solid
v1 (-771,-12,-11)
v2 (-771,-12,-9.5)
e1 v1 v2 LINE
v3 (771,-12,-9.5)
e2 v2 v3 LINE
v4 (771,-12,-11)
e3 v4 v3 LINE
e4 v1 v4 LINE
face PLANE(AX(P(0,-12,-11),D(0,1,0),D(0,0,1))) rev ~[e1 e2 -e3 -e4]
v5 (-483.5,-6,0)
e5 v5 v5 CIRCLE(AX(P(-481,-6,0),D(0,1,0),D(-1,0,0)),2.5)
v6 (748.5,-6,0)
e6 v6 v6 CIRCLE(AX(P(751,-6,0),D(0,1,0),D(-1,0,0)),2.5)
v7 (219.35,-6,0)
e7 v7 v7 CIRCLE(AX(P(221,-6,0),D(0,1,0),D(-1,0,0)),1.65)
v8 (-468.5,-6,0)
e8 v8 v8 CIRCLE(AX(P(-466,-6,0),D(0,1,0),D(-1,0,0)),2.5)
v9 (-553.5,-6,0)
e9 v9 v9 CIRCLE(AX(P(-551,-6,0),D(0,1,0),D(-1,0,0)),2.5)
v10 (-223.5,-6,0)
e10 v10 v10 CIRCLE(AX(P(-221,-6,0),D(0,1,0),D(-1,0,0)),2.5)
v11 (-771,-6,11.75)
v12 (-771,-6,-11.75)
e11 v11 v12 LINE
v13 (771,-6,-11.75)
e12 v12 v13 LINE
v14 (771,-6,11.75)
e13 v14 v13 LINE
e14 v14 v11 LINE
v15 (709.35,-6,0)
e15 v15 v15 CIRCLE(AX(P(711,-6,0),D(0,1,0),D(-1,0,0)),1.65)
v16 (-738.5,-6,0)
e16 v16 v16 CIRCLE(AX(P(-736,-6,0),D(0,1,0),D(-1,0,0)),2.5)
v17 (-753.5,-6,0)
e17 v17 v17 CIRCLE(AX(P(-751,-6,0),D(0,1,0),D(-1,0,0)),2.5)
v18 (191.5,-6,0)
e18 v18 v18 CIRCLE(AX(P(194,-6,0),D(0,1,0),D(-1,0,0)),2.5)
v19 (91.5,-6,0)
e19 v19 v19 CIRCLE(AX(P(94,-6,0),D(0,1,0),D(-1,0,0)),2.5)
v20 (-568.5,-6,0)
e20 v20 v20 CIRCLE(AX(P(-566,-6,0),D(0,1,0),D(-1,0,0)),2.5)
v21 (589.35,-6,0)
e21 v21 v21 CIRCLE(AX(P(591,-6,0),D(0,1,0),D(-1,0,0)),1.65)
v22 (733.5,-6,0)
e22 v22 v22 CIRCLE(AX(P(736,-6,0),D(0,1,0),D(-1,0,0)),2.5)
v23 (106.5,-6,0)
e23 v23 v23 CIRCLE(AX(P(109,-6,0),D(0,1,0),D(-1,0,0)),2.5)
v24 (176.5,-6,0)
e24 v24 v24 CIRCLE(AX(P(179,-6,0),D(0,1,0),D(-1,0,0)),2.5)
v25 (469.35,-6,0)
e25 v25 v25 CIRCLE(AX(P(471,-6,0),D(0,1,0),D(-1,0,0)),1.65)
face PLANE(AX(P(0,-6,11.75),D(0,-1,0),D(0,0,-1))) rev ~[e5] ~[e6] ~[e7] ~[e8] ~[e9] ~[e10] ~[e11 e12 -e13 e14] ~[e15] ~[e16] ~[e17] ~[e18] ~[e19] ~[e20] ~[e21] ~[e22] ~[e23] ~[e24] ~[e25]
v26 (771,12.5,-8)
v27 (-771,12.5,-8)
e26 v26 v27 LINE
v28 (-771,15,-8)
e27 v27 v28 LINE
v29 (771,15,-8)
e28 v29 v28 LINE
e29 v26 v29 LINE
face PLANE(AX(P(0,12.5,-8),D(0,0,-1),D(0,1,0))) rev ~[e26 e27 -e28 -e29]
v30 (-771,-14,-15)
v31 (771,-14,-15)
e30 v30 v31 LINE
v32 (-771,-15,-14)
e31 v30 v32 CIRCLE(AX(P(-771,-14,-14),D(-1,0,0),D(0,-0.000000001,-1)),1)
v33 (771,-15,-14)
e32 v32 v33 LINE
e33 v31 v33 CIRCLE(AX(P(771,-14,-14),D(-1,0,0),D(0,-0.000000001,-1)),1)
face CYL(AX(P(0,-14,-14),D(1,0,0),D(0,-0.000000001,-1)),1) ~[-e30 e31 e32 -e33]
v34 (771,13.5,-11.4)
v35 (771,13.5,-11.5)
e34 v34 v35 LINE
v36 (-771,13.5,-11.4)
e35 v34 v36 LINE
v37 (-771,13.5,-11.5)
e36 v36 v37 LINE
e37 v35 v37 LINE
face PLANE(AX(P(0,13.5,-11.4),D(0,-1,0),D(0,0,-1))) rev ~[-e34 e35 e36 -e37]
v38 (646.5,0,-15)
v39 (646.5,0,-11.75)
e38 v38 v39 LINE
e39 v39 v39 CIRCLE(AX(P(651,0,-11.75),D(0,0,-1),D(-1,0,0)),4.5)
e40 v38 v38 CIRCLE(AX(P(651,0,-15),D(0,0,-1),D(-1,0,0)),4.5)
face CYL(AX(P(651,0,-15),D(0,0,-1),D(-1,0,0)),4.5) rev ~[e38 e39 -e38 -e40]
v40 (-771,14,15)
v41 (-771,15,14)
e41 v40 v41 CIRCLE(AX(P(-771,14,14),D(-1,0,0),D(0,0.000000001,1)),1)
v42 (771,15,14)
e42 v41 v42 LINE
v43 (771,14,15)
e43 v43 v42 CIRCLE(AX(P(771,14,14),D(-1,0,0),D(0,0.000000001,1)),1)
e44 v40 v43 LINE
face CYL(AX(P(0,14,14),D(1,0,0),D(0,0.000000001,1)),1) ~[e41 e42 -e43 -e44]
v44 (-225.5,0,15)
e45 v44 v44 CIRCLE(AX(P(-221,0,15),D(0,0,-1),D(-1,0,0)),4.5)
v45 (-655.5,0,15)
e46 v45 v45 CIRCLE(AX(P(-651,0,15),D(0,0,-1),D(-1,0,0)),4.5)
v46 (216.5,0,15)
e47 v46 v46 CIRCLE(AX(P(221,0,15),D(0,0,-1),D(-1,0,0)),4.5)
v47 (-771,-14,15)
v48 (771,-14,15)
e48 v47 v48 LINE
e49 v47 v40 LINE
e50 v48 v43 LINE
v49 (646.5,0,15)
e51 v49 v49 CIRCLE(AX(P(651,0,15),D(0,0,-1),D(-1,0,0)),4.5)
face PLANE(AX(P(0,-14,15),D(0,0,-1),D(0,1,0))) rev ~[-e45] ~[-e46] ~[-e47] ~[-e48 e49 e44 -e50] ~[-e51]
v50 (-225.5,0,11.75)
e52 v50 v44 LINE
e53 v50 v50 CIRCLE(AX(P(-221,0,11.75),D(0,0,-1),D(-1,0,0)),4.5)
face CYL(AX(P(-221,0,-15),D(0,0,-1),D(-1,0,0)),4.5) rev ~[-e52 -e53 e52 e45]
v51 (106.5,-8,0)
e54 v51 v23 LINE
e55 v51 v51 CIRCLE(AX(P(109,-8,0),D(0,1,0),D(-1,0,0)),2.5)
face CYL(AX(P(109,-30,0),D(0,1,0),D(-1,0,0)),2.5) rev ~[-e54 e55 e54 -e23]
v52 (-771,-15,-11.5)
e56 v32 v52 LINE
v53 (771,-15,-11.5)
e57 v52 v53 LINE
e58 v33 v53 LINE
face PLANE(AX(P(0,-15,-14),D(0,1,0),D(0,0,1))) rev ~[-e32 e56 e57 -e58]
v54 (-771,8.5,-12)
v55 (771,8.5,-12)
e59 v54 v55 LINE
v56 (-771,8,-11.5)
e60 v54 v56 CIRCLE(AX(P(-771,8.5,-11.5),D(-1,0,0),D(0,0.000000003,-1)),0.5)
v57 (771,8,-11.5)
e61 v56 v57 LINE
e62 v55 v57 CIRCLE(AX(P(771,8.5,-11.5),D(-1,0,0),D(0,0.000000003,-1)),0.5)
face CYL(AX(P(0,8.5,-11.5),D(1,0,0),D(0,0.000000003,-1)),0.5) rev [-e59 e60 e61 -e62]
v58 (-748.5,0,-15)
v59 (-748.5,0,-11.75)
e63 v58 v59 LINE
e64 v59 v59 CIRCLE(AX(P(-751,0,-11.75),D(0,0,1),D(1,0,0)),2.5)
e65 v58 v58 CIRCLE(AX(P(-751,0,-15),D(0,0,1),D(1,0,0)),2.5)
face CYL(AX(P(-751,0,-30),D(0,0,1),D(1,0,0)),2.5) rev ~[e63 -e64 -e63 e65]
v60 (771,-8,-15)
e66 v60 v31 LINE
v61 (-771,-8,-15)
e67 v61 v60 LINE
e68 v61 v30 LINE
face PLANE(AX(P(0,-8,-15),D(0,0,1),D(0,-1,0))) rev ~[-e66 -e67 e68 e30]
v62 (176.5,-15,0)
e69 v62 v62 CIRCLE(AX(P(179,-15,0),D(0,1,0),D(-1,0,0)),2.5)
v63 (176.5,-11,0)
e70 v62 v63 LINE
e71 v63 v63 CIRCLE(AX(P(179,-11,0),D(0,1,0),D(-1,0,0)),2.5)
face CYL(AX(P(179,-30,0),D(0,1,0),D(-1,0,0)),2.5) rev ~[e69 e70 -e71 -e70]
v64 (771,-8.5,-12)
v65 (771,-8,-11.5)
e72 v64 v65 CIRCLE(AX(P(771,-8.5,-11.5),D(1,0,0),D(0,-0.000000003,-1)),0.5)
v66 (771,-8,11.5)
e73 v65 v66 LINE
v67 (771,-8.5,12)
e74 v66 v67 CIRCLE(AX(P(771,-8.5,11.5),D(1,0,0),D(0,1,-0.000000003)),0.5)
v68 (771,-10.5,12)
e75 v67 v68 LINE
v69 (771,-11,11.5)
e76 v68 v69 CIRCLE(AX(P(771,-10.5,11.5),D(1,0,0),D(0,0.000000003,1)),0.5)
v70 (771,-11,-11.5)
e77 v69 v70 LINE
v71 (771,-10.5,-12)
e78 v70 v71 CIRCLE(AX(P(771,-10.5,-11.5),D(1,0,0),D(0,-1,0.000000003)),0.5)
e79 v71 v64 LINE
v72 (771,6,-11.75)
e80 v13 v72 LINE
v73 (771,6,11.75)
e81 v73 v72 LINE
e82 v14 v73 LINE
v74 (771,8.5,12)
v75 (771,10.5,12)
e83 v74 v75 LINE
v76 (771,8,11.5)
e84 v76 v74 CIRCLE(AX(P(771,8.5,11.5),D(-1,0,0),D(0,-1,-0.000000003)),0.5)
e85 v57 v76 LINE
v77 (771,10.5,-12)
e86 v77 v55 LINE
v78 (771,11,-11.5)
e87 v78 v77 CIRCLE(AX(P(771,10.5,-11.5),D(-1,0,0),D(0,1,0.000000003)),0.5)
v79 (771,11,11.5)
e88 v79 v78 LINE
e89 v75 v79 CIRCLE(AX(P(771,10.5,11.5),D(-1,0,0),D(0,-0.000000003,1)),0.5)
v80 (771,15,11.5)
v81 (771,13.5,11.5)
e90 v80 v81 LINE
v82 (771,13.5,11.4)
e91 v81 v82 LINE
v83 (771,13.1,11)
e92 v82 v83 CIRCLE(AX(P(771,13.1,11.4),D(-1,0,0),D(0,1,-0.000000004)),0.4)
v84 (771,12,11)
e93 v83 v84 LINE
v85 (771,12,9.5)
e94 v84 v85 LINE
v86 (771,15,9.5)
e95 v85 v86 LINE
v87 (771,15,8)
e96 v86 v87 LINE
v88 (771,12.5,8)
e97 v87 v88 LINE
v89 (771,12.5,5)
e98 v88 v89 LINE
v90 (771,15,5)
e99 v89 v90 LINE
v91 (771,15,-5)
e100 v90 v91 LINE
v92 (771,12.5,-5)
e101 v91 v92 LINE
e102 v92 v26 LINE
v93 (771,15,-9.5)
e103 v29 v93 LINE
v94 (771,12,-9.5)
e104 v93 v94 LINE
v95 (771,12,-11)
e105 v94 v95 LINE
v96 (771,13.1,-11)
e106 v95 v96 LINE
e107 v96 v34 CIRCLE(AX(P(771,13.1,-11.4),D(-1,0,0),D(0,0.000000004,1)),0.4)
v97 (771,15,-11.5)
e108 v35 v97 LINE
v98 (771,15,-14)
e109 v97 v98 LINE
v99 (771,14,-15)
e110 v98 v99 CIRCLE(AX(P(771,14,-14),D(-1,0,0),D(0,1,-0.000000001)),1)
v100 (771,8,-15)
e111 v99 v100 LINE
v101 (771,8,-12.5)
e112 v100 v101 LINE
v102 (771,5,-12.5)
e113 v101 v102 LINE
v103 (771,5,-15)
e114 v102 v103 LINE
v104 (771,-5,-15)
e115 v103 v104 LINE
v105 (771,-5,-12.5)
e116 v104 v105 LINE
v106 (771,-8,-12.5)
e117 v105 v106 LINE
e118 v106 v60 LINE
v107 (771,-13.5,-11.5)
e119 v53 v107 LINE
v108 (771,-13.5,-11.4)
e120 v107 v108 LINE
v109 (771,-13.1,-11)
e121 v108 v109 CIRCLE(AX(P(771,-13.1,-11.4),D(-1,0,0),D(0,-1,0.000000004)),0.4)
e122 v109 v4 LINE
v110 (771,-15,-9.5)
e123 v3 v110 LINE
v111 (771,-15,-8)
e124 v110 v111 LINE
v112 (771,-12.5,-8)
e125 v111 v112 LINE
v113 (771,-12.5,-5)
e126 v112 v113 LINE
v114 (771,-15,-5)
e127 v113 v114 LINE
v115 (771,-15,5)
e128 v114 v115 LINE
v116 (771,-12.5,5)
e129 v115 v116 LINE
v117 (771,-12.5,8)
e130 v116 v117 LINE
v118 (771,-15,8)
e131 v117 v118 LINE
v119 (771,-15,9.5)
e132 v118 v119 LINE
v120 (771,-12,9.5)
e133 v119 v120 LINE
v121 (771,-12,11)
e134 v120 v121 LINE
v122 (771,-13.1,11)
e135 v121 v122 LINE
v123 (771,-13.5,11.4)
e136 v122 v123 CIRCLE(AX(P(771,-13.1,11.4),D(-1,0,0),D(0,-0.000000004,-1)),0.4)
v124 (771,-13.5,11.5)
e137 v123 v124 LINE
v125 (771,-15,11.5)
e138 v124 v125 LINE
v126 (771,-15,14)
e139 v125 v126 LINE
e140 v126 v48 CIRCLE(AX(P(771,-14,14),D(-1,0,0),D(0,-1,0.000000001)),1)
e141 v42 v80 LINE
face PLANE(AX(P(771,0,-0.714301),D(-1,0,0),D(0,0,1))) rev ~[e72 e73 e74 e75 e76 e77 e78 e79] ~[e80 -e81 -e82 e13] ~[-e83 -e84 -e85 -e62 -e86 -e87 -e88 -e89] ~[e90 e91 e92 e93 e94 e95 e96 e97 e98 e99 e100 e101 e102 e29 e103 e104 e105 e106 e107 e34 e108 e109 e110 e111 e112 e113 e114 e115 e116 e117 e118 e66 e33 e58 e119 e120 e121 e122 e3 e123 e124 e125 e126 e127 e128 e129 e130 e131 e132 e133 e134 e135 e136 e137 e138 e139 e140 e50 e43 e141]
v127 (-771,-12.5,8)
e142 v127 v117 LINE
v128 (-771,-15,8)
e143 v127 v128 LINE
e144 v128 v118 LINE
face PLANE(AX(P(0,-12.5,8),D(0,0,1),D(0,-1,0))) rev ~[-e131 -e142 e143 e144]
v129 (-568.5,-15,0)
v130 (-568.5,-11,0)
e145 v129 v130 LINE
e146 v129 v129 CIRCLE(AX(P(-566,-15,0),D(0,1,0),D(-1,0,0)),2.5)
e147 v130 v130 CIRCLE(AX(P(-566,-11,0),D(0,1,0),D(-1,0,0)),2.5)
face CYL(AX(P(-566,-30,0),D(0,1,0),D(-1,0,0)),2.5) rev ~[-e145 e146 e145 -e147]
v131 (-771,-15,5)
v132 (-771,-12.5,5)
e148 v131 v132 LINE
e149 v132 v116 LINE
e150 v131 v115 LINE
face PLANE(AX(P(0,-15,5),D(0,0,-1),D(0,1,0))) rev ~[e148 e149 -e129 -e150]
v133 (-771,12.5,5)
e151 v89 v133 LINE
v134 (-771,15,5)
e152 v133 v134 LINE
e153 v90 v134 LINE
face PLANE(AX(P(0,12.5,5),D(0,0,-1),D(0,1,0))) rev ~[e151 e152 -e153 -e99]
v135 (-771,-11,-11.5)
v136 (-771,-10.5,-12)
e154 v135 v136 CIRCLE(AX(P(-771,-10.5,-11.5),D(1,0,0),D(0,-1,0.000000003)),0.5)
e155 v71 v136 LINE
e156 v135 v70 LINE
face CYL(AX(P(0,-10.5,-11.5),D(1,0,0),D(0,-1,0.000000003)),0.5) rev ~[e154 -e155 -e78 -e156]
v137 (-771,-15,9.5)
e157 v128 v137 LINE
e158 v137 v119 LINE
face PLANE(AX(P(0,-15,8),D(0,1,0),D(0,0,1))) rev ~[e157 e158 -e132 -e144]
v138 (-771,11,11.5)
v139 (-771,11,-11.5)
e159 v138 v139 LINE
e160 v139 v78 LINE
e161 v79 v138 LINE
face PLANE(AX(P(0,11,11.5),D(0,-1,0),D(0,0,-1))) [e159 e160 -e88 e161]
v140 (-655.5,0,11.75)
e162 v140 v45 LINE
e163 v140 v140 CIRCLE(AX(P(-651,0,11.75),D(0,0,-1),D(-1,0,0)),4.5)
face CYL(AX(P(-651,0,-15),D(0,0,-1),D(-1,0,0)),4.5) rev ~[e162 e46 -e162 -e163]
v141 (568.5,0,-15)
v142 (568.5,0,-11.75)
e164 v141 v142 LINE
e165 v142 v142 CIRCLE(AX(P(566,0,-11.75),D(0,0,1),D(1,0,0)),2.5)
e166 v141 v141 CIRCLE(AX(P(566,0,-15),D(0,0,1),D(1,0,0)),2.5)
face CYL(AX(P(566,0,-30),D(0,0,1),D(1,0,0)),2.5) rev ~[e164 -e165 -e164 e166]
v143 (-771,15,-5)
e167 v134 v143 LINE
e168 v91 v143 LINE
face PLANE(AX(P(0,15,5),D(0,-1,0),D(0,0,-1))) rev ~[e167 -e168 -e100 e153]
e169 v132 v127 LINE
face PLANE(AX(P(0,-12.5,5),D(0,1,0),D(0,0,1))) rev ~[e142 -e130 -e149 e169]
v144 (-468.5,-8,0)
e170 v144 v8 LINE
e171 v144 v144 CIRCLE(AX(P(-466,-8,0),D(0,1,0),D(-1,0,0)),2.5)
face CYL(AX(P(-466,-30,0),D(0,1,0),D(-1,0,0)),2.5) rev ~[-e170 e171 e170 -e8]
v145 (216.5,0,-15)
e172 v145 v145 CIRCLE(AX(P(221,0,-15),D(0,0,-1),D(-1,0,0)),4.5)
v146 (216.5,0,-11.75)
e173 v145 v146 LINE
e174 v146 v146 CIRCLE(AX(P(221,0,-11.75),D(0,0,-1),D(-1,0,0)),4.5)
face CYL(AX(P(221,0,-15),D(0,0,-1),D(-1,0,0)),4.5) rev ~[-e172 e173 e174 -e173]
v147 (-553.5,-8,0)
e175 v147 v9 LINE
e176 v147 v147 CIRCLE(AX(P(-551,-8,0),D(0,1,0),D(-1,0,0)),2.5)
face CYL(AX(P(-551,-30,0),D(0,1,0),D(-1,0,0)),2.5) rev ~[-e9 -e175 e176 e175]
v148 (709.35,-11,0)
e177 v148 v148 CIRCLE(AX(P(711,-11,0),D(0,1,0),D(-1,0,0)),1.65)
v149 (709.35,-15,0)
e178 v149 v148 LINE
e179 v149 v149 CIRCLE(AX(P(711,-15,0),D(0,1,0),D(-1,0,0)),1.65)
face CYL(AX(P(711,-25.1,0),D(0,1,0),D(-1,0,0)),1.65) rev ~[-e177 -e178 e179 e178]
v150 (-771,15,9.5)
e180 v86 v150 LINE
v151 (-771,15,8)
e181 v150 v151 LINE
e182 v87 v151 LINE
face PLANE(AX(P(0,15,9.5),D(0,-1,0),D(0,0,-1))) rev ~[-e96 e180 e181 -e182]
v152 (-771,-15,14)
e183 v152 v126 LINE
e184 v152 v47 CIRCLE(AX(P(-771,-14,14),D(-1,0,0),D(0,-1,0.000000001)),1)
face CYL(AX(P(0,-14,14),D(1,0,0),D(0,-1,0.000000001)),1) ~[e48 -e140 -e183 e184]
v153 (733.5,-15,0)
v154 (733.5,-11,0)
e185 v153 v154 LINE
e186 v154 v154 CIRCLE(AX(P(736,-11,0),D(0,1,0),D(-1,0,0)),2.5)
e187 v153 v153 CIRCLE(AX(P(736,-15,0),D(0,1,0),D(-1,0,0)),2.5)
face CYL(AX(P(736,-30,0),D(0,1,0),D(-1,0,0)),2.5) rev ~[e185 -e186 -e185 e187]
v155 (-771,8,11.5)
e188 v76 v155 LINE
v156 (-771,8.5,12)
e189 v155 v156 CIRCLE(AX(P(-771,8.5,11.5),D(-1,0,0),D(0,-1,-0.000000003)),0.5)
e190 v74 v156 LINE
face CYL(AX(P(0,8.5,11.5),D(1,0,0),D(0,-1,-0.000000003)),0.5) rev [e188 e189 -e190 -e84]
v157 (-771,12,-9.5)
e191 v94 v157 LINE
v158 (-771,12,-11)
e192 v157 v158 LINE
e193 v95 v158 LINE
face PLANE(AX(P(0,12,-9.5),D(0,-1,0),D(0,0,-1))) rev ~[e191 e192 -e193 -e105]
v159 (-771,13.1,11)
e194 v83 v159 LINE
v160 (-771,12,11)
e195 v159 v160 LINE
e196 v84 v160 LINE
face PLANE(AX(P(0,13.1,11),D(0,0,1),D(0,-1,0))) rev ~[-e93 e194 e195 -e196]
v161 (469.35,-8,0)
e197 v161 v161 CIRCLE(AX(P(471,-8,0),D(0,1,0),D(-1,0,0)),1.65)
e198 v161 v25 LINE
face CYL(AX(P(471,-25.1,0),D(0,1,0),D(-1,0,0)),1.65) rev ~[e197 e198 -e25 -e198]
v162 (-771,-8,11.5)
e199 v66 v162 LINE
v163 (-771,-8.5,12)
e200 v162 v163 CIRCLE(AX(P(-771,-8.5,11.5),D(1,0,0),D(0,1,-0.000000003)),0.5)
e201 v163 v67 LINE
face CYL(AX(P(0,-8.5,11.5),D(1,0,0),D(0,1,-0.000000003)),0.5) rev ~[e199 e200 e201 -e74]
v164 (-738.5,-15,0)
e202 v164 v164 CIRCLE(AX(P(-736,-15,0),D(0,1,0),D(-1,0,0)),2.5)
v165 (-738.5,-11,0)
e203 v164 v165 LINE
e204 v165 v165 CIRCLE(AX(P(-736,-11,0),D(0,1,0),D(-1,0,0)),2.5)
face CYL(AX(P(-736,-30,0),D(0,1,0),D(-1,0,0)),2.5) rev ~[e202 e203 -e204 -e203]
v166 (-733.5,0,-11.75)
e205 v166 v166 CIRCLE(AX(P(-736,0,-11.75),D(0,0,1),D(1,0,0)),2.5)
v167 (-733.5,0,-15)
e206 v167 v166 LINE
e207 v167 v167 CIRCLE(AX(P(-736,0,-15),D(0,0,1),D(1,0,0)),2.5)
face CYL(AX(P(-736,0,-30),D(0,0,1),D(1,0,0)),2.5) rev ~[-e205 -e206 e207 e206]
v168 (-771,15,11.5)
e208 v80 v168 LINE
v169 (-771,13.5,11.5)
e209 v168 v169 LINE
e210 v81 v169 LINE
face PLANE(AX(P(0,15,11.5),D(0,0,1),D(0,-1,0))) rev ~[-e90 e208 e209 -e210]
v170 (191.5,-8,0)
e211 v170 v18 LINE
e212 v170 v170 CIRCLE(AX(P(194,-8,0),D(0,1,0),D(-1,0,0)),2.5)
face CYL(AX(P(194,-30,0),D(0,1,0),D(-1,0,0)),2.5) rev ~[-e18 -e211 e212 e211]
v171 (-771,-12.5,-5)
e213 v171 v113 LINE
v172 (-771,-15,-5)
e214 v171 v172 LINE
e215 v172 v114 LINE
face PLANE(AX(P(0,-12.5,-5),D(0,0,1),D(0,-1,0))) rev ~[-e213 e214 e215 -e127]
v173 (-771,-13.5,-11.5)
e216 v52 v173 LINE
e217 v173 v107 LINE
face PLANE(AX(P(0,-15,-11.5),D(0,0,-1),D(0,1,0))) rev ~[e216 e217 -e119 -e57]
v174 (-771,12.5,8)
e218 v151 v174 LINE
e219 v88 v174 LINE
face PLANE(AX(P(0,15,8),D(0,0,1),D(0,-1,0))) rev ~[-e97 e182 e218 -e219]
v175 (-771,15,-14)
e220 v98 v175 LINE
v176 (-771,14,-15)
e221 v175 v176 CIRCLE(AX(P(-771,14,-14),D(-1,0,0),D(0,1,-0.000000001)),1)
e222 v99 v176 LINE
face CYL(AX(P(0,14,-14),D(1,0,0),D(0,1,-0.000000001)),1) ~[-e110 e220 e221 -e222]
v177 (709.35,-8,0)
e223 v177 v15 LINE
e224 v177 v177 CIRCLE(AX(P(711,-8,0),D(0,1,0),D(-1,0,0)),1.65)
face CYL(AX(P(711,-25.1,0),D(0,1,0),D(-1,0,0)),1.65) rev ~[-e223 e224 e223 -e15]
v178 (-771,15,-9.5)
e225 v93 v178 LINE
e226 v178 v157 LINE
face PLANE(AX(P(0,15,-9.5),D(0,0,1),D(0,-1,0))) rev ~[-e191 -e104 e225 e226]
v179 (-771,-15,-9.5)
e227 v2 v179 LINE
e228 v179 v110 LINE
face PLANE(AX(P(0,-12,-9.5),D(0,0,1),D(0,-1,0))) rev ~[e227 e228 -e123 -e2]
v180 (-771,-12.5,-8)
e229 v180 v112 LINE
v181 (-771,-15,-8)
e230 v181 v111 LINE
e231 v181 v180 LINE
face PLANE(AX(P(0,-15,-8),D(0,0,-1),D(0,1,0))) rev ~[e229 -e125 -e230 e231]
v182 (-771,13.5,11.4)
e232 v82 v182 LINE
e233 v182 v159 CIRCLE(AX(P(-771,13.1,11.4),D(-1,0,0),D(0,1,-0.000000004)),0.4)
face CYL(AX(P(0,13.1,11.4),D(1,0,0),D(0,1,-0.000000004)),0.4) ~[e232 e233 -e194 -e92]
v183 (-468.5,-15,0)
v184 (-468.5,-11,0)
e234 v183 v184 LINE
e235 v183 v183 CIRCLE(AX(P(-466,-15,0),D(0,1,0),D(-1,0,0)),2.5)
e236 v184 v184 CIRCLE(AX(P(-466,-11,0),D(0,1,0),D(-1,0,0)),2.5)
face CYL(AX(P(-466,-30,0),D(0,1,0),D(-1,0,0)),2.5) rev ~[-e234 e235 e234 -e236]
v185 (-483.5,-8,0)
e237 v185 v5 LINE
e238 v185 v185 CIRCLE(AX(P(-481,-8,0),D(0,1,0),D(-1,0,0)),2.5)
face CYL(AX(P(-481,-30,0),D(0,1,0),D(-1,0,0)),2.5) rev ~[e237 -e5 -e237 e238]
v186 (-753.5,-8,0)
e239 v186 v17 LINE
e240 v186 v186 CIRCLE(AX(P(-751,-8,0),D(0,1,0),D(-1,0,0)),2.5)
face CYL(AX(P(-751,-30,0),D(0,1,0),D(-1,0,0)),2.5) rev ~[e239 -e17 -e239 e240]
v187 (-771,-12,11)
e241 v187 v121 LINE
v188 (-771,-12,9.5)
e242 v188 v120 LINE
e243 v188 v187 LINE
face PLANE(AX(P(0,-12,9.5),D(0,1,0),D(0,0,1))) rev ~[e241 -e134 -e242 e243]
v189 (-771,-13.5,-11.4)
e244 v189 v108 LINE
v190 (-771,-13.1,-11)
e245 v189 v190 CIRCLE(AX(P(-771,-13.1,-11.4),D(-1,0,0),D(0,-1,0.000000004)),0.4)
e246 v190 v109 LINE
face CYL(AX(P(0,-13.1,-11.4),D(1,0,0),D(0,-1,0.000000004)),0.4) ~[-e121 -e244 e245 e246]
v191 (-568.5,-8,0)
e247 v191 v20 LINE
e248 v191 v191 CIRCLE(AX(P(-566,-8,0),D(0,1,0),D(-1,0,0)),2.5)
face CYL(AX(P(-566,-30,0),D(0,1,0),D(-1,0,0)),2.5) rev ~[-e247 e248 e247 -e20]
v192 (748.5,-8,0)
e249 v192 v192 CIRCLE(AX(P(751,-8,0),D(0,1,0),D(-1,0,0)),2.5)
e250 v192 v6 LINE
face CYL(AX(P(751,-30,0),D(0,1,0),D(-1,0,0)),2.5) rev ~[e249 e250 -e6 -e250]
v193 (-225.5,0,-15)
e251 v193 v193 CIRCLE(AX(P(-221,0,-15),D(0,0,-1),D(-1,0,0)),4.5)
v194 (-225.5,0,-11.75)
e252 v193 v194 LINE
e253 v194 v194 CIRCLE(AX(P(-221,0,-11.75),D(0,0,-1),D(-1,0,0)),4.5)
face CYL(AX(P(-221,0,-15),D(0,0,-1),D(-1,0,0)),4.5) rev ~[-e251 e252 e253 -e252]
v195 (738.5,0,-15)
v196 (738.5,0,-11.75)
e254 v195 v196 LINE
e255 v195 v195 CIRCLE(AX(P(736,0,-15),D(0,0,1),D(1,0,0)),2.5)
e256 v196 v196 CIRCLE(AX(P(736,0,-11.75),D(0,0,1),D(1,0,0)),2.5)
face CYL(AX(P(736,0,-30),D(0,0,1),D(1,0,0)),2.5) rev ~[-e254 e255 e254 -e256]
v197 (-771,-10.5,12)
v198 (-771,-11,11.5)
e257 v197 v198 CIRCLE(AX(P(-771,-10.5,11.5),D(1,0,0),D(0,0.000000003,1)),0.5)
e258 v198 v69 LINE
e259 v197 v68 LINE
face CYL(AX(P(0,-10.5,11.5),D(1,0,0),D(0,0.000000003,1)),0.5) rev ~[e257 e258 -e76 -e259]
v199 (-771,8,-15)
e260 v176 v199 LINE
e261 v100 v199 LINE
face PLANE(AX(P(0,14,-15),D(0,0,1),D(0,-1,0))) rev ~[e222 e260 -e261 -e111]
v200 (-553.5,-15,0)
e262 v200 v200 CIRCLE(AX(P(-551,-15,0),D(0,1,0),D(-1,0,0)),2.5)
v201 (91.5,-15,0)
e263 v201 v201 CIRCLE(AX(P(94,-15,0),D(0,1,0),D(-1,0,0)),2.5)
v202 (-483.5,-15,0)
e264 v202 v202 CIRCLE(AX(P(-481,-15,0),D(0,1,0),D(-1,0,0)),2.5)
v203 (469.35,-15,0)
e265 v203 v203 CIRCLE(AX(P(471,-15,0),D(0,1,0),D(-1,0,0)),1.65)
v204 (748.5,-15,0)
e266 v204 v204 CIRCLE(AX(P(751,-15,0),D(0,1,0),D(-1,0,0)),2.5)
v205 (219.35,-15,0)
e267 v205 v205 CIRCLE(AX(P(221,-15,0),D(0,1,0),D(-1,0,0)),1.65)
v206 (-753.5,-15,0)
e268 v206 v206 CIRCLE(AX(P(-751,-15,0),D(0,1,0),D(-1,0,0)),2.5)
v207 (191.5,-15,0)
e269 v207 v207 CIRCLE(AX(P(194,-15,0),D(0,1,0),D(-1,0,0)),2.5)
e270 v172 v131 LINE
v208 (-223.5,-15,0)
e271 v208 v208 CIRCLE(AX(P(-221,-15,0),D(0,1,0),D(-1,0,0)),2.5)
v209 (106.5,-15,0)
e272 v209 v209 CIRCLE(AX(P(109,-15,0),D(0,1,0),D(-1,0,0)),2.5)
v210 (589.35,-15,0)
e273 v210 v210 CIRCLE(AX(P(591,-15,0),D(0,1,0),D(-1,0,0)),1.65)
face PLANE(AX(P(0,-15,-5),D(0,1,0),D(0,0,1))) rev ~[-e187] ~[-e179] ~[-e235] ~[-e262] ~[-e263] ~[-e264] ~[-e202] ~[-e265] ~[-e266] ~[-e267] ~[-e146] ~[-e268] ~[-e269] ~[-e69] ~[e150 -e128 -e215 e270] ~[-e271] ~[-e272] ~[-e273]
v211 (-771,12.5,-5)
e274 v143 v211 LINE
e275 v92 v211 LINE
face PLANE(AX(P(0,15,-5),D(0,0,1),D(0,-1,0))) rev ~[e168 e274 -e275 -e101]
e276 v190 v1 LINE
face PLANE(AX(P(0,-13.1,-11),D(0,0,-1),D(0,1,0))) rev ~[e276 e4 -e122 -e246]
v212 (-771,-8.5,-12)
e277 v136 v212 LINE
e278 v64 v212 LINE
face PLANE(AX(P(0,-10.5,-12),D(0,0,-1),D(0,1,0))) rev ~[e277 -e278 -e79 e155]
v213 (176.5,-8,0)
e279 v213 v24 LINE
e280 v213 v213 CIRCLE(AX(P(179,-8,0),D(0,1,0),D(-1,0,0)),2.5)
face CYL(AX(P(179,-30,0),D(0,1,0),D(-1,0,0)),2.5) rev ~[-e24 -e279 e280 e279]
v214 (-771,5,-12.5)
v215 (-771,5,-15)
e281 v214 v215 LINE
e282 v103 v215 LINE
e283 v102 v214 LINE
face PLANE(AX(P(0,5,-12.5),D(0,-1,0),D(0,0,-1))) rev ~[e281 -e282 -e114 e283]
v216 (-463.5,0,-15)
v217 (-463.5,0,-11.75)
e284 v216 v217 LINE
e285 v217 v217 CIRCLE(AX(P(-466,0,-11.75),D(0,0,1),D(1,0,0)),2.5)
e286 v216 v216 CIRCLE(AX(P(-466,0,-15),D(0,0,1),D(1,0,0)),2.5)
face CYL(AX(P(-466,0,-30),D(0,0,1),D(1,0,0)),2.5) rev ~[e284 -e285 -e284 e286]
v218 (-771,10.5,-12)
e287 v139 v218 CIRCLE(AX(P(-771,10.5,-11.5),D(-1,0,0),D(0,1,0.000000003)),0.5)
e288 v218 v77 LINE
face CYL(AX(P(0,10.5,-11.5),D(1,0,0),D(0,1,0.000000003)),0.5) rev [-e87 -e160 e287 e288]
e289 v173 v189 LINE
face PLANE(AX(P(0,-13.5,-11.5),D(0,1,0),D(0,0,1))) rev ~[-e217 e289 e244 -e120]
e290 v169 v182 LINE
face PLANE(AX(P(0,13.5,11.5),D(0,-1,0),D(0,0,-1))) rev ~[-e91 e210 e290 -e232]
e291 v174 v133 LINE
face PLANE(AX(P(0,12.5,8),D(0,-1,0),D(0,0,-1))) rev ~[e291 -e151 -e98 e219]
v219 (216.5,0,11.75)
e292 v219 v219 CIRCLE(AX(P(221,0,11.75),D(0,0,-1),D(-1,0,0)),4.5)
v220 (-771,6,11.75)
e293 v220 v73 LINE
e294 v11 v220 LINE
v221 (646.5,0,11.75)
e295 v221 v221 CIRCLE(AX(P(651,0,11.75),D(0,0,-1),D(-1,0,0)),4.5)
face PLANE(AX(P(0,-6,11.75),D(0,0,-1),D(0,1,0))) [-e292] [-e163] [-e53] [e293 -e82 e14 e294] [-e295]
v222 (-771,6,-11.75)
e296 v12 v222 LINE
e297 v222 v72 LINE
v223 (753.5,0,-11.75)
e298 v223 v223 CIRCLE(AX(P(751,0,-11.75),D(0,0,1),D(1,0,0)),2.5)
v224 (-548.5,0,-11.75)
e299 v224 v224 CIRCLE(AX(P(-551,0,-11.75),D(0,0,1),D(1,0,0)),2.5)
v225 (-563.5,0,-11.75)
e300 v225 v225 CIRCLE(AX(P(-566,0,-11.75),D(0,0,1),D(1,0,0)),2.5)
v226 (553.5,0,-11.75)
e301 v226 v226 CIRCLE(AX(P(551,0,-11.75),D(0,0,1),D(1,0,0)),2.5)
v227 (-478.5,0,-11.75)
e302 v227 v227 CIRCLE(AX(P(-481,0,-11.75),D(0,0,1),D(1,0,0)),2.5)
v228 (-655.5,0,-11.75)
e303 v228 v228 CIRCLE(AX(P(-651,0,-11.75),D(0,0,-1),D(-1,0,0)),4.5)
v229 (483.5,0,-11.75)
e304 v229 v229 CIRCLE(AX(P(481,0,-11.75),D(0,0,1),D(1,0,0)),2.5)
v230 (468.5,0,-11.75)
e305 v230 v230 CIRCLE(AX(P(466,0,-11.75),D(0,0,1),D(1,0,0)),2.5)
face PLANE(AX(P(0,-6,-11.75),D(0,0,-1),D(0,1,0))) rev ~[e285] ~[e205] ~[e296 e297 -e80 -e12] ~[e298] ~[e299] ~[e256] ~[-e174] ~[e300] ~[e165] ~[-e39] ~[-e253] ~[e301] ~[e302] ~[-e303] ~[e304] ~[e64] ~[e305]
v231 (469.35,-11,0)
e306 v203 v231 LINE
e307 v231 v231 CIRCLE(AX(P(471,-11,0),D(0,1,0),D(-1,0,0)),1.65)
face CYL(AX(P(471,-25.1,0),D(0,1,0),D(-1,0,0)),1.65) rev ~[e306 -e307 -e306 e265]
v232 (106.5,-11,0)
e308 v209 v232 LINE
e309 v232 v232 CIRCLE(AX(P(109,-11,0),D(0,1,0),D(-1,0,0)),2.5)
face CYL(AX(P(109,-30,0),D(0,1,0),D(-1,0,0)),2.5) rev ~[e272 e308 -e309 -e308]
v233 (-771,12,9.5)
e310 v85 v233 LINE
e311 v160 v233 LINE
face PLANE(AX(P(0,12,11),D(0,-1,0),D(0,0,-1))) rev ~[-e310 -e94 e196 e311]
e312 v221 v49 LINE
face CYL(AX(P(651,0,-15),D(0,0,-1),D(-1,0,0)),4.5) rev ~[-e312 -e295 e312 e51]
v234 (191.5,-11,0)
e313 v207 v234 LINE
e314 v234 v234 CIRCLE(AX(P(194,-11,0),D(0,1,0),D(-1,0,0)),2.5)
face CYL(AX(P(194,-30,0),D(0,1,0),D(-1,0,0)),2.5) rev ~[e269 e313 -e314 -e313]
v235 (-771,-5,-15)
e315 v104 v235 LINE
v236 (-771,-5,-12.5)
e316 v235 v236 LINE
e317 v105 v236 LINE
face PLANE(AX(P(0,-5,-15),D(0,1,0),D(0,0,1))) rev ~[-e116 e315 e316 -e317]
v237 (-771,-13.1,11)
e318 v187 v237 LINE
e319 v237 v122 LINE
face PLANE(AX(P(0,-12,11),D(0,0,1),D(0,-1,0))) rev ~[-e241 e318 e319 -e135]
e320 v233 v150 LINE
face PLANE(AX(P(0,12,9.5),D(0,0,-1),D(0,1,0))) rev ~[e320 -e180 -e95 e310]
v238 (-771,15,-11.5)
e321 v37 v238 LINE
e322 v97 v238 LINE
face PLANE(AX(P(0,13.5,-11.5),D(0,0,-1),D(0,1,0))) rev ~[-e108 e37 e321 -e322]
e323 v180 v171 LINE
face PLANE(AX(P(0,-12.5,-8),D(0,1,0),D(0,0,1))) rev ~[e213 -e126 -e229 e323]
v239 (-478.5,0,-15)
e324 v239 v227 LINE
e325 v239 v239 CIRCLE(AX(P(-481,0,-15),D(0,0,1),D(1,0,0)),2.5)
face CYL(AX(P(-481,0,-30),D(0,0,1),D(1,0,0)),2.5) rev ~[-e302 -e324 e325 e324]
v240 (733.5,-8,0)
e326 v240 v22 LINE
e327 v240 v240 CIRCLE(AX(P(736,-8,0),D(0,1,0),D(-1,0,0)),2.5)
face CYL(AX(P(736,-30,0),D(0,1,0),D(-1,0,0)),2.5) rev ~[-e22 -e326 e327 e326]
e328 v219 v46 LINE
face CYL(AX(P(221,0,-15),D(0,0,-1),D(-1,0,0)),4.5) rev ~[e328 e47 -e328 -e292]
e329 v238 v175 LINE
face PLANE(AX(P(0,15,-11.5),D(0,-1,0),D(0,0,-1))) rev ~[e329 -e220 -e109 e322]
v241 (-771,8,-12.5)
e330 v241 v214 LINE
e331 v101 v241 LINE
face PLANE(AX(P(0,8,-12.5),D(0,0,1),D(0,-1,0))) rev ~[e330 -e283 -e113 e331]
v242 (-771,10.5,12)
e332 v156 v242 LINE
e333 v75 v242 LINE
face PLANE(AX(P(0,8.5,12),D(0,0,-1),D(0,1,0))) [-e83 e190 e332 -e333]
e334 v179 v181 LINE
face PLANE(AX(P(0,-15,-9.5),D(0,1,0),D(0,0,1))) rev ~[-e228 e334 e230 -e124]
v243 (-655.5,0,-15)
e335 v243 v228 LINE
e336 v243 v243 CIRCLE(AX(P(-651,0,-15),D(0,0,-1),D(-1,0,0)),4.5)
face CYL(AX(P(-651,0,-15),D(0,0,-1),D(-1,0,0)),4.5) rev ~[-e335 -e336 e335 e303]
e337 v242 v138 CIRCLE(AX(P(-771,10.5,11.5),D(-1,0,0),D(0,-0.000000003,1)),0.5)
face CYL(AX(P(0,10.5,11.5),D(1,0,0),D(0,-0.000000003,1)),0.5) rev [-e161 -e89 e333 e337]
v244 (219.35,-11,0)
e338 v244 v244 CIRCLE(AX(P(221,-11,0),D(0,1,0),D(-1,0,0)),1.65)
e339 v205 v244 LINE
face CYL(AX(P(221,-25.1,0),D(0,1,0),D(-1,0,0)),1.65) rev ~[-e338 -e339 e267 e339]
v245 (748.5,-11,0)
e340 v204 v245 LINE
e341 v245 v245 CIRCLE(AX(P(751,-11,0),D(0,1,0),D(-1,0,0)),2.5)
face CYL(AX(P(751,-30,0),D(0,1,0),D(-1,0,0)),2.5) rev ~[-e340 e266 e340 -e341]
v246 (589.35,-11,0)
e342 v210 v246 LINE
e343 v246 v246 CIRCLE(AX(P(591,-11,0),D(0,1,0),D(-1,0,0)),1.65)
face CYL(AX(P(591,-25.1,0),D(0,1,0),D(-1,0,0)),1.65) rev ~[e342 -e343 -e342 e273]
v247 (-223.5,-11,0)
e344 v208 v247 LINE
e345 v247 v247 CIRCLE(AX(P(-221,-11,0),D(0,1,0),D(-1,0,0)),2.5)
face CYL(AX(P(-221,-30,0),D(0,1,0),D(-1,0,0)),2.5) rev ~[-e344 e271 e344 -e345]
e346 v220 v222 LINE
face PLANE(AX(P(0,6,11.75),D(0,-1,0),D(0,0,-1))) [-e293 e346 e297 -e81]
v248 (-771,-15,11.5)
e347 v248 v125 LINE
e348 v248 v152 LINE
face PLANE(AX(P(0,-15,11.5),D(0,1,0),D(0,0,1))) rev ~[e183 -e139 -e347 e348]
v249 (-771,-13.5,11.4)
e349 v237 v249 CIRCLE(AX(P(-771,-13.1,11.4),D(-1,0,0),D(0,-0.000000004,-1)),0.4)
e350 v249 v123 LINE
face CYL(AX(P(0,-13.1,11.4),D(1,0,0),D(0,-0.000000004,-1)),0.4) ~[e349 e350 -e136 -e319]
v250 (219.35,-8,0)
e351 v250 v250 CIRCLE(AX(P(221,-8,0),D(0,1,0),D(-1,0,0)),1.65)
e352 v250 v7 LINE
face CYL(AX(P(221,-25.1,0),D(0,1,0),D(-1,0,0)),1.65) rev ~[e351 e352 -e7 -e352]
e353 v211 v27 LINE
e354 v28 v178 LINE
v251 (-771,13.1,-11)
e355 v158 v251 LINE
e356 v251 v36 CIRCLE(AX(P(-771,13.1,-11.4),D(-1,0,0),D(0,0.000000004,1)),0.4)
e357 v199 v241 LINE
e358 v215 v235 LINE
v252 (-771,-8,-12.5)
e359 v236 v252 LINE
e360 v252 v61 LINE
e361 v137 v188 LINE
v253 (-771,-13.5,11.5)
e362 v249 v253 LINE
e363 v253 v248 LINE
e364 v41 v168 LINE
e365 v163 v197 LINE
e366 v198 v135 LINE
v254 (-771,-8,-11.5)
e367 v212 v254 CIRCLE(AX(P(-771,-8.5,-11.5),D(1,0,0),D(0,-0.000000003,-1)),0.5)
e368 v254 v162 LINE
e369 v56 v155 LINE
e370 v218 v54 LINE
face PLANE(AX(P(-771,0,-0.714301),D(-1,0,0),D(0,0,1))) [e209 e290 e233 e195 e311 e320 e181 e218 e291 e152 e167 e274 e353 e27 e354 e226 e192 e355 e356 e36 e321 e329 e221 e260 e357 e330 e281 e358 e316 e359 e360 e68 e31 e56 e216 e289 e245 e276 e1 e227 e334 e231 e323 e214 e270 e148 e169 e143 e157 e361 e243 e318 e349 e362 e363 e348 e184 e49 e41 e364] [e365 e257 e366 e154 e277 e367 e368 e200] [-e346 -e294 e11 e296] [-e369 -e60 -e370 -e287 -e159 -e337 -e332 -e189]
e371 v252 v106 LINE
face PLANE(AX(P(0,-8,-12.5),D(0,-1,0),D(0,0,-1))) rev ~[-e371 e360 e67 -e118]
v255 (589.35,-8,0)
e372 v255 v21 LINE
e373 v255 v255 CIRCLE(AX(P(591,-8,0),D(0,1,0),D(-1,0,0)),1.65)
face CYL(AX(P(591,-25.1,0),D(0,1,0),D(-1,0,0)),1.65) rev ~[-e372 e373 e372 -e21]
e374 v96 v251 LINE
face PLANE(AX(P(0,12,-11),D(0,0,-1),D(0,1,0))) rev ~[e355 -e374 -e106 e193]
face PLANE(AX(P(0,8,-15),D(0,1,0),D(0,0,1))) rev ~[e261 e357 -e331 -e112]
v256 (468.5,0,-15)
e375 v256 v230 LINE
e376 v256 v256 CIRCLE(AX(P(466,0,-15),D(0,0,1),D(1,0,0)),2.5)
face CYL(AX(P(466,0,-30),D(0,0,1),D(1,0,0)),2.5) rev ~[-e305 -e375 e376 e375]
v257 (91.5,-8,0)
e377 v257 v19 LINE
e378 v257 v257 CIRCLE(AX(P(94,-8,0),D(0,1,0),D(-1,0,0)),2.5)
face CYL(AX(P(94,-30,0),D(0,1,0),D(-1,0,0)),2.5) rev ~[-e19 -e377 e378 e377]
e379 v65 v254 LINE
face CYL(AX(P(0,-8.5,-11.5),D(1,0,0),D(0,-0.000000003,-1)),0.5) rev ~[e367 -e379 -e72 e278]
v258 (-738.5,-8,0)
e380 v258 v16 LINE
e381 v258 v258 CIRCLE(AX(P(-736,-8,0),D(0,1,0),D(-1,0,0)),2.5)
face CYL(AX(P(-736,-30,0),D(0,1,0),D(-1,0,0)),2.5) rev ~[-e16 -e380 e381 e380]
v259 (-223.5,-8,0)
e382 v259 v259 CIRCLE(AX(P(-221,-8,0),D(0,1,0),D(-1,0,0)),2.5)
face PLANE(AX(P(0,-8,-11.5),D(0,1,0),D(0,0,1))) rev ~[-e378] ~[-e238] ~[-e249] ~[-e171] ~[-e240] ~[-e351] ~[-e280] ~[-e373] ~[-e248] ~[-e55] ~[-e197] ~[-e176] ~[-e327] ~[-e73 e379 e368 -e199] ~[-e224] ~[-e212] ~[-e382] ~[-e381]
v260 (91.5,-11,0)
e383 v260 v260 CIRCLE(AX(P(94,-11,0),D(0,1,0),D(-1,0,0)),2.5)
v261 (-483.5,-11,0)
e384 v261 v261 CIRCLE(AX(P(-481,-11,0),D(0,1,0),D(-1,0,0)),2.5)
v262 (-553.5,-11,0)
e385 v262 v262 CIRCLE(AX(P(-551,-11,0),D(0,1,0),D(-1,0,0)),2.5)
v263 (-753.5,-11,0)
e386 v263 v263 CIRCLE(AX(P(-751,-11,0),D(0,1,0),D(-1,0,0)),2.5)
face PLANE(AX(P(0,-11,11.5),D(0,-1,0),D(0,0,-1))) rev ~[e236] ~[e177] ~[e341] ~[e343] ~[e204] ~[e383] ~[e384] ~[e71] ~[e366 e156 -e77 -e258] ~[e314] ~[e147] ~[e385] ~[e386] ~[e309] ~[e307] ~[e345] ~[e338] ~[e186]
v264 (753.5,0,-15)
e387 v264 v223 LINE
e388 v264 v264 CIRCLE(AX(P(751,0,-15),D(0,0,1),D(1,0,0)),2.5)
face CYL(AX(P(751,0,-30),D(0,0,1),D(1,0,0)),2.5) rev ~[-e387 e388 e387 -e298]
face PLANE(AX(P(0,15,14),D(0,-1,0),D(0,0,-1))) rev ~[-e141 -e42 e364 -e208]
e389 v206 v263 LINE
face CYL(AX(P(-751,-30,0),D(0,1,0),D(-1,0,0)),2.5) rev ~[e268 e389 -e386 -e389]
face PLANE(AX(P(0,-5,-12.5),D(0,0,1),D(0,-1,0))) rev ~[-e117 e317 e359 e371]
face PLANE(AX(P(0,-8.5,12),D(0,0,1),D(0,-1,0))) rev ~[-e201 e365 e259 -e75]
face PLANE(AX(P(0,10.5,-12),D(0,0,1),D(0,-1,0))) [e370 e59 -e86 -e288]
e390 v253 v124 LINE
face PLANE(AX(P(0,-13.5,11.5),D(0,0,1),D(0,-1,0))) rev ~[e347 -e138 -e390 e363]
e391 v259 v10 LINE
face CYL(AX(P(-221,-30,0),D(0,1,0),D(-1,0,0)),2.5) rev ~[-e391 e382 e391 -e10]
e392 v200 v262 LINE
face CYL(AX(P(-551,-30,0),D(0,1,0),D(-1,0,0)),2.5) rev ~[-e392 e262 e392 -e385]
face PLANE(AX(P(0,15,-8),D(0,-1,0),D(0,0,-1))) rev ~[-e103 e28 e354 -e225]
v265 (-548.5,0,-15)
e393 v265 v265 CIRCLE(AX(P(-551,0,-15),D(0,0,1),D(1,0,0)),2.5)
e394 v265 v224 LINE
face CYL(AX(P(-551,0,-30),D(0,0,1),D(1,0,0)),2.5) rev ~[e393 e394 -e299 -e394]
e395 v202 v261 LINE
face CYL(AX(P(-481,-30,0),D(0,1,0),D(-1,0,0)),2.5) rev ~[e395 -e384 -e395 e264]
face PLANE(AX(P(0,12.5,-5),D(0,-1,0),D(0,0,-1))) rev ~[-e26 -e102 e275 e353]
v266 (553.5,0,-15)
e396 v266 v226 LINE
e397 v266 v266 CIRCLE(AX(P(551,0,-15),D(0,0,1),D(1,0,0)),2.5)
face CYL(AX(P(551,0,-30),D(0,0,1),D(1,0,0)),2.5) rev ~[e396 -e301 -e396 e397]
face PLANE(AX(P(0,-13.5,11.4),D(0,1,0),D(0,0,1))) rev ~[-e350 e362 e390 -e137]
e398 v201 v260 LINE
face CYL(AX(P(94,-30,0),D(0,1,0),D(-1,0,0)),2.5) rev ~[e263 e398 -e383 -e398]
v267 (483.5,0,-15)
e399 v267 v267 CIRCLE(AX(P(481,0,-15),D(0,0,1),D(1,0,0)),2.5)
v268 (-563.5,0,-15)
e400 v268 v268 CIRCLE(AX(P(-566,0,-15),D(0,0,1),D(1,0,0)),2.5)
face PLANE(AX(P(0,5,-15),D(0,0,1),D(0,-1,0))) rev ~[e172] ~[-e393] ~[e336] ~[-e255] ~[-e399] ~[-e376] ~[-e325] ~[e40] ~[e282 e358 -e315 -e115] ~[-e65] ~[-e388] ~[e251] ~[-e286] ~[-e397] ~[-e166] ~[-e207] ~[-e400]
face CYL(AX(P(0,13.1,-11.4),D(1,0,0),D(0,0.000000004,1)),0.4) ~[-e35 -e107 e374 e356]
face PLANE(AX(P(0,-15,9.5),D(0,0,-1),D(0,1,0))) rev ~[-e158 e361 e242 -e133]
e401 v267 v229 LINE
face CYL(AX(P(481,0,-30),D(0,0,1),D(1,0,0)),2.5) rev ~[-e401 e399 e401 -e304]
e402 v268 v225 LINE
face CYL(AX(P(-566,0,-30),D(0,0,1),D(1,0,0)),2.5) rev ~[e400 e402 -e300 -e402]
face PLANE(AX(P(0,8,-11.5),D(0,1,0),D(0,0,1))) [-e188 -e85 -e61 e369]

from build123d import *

# Parameters (mm, degrees)
SKETCH_1_W             = 23.5
SKETCH_1_H             = 12
EXTRUDE_1_DEPTH        = 771
HOLE_WIZARD_M6_1_D     = 5
HOLE_WIZARD_M6_1_DEPTH = 15
HOLE_WIZARD_M6_1_TIP   = 1.502151548
HOLE_WIZARD_M6_2_D     = 5
HOLE_WIZARD_M6_2_DEPTH = 15
HOLE_WIZARD_M6_2_TIP   = 1.502151548
SKETCH_6_R             = 4.5
CUT_EXTRUDE_1_DEPTH    = 772.729227126
HOLE_WIZARD_M4_1_D     = 3.3
HOLE_WIZARD_M4_1_DEPTH = 10.1
HOLE_WIZARD_M4_1_TIP   = 0.991420021
HOLE_WIZARD_M6_3_D     = 5
HOLE_WIZARD_M6_3_DEPTH = 15
HOLE_WIZARD_M6_3_TIP   = 1.502151548


with BuildPart() as part:
    # 草图1 → 凸台-拉伸1 (new, symmetric)
    with BuildSketch(Plane(origin=(0, 0, 0), x_dir=(0, 0, -1), z_dir=(1, 0, 0))):
        with BuildLine():
            Line((-14, 15), (-11.5, 15))
            Line((-11.5, 15), (-11.5, 13.5))
            Line((-11.5, 13.5), (-11.4, 13.5))
            ThreePointArc((-11.4, 13.5), (-11.117157288, 13.382842712), (-11, 13.1))
            Line((-11, 13.1), (-11, 12))
            Line((-11, 12), (-9.5, 12))
            Line((-9.5, 12), (-9.5, 15))
            Line((-9.5, 15), (-8, 15))
            Line((-8, 15), (-8, 12.5))
            Line((-8, 12.5), (-5, 12.5))
            Line((-5, 12.5), (-5, 15))
            Line((-5, 15), (5, 15))
            Line((5, 15), (5, 12.5))
            Line((5, 12.5), (8, 12.5))
            Line((8, 12.5), (8, 15))
            Line((8, 15), (9.5, 15))
            Line((9.5, 15), (9.5, 12))
            Line((9.5, 12), (11, 12))
            Line((11, 12), (11, 13.1))
            ThreePointArc((11, 13.1), (11.117157288, 13.382842712), (11.4, 13.5))
            Line((11.4, 13.5), (11.5, 13.5))
            Line((11.5, 13.5), (11.5, 15))
            Line((11.5, 15), (14, 15))
            ThreePointArc((14, 15), (14.707106781, 14.707106781), (15, 14))
            Line((15, 14), (15, 8))
            Line((15, 8), (12.5, 8))
            Line((12.5, 8), (12.5, 5))
            Line((12.5, 5), (15, 5))
            Line((15, 5), (15, -5))
            Line((15, -5), (12.5, -5))
            Line((12.5, -5), (12.5, -8))
            Line((12.5, -8), (15, -8))
            Line((15, -8), (15, -14))
            ThreePointArc((15, -14), (14.707106781, -14.707106781), (14, -15))
            Line((14, -15), (11.5, -15))
            Line((11.5, -15), (11.5, -13.5))
            Line((11.5, -13.5), (11.4, -13.5))
            ThreePointArc((11.4, -13.5), (11.117157288, -13.382842712), (11, -13.1))
            Line((11, -13.1), (11, -12))
            Line((11, -12), (9.5, -12))
            Line((9.5, -12), (9.5, -15))
            Line((9.5, -15), (8, -15))
            Line((8, -15), (8, -12.5))
            Line((8, -12.5), (5, -12.5))
            Line((5, -12.5), (5, -15))
            Line((5, -15), (-5, -15))
            Line((-5, -15), (-5, -12.5))
            Line((-5, -12.5), (-8, -12.5))
            Line((-8, -12.5), (-8, -15))
            Line((-8, -15), (-9.5, -15))
            Line((-9.5, -15), (-9.5, -12))
            Line((-9.5, -12), (-11, -12))
            Line((-11, -12), (-11, -13.1))
            ThreePointArc((-11, -13.1), (-11.117157288, -13.382842712), (-11.4, -13.5))
            Line((-11.4, -13.5), (-11.5, -13.5))
            Line((-11.5, -13.5), (-11.5, -15))
            Line((-11.5, -15), (-14, -15))
            ThreePointArc((-14, -15), (-14.707106781, -14.707106781), (-15, -14))
            Line((-15, -14), (-15, 14))
            ThreePointArc((-15, 14), (-14.707106781, 14.707106781), (-14, 15))
        make_face()
        with BuildLine():
            Line((12, -10.5), (12, -8.5))
            ThreePointArc((12, -8.5), (11.853553391, -8.146446609), (11.5, -8))
            Line((11.5, -8), (-11.5, -8))
            ThreePointArc((-11.5, -8), (-11.853553391, -8.146446609), (-12, -8.5))
            Line((-12, -8.5), (-12, -10.5))
            ThreePointArc((-12, -10.5), (-11.853553391, -10.853553391), (-11.5, -11))
            Line((-11.5, -11), (11.5, -11))
            ThreePointArc((11.5, -11), (11.853553391, -10.853553391), (12, -10.5))
        make_face(mode=Mode.SUBTRACT)
        with BuildLine():
            Line((-11.5, 11), (11.5, 11))
            ThreePointArc((11.5, 11), (11.853553391, 10.853553391), (12, 10.5))
            Line((12, 10.5), (12, 8.5))
            ThreePointArc((12, 8.5), (11.853553391, 8.146446609), (11.5, 8))
            Line((11.5, 8), (-11.5, 8))
            ThreePointArc((-11.5, 8), (-11.853553391, 8.146446609), (-12, 8.5))
            Line((-12, 8.5), (-12, 10.5))
            ThreePointArc((-12, 10.5), (-11.853553391, 10.853553391), (-11.5, 11))
        make_face(mode=Mode.SUBTRACT)
        Rectangle(SKETCH_1_W, SKETCH_1_H, mode=Mode.SUBTRACT)
    extrude(amount=EXTRUDE_1_DEPTH, both=True)

    # M6 螺纹孔1
    with Locations(Plane.XZ.offset(15)):
        with Locations((-751, 0), (-736, 0), (-566, 0), (-551, 0), (-481, 0), (-466, 0), (94, 0), (109, 0), (179, 0), (194, 0), (736, 0), (751, 0)):
            Hole(HOLE_WIZARD_M6_1_D / 2, depth=HOLE_WIZARD_M6_1_DEPTH)
            with Locations((0, 0, -(HOLE_WIZARD_M6_1_DEPTH + HOLE_WIZARD_M6_1_TIP / 2))):  # 118° drill point
                Cone(0, HOLE_WIZARD_M6_1_D / 2, HOLE_WIZARD_M6_1_TIP, mode=Mode.SUBTRACT)

    # M6 螺纹孔2
    with Locations(Plane(origin=(0, 0, -15), x_dir=(-1, 0, 0), z_dir=(0, 0, -1))):
        with Locations((751, 0), (736, 0), (566, 0), (551, 0), (481, 0), (466, 0), (-481, 0), (-466, 0), (-551, 0), (-566, 0), (-751, 0), (-736, 0)):
            Hole(HOLE_WIZARD_M6_2_D / 2, depth=HOLE_WIZARD_M6_2_DEPTH)
            with Locations((0, 0, -(HOLE_WIZARD_M6_2_DEPTH + HOLE_WIZARD_M6_2_TIP / 2))):  # 118° drill point
                Cone(0, HOLE_WIZARD_M6_2_D / 2, HOLE_WIZARD_M6_2_TIP, mode=Mode.SUBTRACT)

    # 草图6 → 切除-拉伸1 (cut, through all)
    with BuildSketch(Plane(origin=(0, 0, -15), x_dir=(-1, 0, 0), z_dir=(0, 0, -1))):
        with Locations((-651, 0)):
            Circle(SKETCH_6_R)
        with Locations((-221, 0)):
            Circle(SKETCH_6_R)
        with Locations((221, 0)):
            Circle(SKETCH_6_R)
        with Locations((651, 0)):
            Circle(SKETCH_6_R)
    extrude(amount=-CUT_EXTRUDE_1_DEPTH, mode=Mode.SUBTRACT)

    # M4 螺纹孔1
    with Locations(Plane.XZ.offset(15)):
        with Locations((711, 0), (591, 0), (471, 0), (221, 0)):
            Hole(HOLE_WIZARD_M4_1_D / 2, depth=HOLE_WIZARD_M4_1_DEPTH)
            with Locations((0, 0, -(HOLE_WIZARD_M4_1_DEPTH + HOLE_WIZARD_M4_1_TIP / 2))):  # 118° drill point
                Cone(0, HOLE_WIZARD_M4_1_D / 2, HOLE_WIZARD_M4_1_TIP, mode=Mode.SUBTRACT)

    # M6 螺纹孔3
    with Locations(Plane.XZ.offset(15)):
        with Locations((-221, 0)):
            Hole(HOLE_WIZARD_M6_3_D / 2, depth=HOLE_WIZARD_M6_3_DEPTH)
            with Locations((0, 0, -(HOLE_WIZARD_M6_3_DEPTH + HOLE_WIZARD_M6_3_TIP / 2))):  # 118° drill point
                Cone(0, HOLE_WIZARD_M6_3_D / 2, HOLE_WIZARD_M6_3_TIP, mode=Mode.SUBTRACT)


solid = part.part
